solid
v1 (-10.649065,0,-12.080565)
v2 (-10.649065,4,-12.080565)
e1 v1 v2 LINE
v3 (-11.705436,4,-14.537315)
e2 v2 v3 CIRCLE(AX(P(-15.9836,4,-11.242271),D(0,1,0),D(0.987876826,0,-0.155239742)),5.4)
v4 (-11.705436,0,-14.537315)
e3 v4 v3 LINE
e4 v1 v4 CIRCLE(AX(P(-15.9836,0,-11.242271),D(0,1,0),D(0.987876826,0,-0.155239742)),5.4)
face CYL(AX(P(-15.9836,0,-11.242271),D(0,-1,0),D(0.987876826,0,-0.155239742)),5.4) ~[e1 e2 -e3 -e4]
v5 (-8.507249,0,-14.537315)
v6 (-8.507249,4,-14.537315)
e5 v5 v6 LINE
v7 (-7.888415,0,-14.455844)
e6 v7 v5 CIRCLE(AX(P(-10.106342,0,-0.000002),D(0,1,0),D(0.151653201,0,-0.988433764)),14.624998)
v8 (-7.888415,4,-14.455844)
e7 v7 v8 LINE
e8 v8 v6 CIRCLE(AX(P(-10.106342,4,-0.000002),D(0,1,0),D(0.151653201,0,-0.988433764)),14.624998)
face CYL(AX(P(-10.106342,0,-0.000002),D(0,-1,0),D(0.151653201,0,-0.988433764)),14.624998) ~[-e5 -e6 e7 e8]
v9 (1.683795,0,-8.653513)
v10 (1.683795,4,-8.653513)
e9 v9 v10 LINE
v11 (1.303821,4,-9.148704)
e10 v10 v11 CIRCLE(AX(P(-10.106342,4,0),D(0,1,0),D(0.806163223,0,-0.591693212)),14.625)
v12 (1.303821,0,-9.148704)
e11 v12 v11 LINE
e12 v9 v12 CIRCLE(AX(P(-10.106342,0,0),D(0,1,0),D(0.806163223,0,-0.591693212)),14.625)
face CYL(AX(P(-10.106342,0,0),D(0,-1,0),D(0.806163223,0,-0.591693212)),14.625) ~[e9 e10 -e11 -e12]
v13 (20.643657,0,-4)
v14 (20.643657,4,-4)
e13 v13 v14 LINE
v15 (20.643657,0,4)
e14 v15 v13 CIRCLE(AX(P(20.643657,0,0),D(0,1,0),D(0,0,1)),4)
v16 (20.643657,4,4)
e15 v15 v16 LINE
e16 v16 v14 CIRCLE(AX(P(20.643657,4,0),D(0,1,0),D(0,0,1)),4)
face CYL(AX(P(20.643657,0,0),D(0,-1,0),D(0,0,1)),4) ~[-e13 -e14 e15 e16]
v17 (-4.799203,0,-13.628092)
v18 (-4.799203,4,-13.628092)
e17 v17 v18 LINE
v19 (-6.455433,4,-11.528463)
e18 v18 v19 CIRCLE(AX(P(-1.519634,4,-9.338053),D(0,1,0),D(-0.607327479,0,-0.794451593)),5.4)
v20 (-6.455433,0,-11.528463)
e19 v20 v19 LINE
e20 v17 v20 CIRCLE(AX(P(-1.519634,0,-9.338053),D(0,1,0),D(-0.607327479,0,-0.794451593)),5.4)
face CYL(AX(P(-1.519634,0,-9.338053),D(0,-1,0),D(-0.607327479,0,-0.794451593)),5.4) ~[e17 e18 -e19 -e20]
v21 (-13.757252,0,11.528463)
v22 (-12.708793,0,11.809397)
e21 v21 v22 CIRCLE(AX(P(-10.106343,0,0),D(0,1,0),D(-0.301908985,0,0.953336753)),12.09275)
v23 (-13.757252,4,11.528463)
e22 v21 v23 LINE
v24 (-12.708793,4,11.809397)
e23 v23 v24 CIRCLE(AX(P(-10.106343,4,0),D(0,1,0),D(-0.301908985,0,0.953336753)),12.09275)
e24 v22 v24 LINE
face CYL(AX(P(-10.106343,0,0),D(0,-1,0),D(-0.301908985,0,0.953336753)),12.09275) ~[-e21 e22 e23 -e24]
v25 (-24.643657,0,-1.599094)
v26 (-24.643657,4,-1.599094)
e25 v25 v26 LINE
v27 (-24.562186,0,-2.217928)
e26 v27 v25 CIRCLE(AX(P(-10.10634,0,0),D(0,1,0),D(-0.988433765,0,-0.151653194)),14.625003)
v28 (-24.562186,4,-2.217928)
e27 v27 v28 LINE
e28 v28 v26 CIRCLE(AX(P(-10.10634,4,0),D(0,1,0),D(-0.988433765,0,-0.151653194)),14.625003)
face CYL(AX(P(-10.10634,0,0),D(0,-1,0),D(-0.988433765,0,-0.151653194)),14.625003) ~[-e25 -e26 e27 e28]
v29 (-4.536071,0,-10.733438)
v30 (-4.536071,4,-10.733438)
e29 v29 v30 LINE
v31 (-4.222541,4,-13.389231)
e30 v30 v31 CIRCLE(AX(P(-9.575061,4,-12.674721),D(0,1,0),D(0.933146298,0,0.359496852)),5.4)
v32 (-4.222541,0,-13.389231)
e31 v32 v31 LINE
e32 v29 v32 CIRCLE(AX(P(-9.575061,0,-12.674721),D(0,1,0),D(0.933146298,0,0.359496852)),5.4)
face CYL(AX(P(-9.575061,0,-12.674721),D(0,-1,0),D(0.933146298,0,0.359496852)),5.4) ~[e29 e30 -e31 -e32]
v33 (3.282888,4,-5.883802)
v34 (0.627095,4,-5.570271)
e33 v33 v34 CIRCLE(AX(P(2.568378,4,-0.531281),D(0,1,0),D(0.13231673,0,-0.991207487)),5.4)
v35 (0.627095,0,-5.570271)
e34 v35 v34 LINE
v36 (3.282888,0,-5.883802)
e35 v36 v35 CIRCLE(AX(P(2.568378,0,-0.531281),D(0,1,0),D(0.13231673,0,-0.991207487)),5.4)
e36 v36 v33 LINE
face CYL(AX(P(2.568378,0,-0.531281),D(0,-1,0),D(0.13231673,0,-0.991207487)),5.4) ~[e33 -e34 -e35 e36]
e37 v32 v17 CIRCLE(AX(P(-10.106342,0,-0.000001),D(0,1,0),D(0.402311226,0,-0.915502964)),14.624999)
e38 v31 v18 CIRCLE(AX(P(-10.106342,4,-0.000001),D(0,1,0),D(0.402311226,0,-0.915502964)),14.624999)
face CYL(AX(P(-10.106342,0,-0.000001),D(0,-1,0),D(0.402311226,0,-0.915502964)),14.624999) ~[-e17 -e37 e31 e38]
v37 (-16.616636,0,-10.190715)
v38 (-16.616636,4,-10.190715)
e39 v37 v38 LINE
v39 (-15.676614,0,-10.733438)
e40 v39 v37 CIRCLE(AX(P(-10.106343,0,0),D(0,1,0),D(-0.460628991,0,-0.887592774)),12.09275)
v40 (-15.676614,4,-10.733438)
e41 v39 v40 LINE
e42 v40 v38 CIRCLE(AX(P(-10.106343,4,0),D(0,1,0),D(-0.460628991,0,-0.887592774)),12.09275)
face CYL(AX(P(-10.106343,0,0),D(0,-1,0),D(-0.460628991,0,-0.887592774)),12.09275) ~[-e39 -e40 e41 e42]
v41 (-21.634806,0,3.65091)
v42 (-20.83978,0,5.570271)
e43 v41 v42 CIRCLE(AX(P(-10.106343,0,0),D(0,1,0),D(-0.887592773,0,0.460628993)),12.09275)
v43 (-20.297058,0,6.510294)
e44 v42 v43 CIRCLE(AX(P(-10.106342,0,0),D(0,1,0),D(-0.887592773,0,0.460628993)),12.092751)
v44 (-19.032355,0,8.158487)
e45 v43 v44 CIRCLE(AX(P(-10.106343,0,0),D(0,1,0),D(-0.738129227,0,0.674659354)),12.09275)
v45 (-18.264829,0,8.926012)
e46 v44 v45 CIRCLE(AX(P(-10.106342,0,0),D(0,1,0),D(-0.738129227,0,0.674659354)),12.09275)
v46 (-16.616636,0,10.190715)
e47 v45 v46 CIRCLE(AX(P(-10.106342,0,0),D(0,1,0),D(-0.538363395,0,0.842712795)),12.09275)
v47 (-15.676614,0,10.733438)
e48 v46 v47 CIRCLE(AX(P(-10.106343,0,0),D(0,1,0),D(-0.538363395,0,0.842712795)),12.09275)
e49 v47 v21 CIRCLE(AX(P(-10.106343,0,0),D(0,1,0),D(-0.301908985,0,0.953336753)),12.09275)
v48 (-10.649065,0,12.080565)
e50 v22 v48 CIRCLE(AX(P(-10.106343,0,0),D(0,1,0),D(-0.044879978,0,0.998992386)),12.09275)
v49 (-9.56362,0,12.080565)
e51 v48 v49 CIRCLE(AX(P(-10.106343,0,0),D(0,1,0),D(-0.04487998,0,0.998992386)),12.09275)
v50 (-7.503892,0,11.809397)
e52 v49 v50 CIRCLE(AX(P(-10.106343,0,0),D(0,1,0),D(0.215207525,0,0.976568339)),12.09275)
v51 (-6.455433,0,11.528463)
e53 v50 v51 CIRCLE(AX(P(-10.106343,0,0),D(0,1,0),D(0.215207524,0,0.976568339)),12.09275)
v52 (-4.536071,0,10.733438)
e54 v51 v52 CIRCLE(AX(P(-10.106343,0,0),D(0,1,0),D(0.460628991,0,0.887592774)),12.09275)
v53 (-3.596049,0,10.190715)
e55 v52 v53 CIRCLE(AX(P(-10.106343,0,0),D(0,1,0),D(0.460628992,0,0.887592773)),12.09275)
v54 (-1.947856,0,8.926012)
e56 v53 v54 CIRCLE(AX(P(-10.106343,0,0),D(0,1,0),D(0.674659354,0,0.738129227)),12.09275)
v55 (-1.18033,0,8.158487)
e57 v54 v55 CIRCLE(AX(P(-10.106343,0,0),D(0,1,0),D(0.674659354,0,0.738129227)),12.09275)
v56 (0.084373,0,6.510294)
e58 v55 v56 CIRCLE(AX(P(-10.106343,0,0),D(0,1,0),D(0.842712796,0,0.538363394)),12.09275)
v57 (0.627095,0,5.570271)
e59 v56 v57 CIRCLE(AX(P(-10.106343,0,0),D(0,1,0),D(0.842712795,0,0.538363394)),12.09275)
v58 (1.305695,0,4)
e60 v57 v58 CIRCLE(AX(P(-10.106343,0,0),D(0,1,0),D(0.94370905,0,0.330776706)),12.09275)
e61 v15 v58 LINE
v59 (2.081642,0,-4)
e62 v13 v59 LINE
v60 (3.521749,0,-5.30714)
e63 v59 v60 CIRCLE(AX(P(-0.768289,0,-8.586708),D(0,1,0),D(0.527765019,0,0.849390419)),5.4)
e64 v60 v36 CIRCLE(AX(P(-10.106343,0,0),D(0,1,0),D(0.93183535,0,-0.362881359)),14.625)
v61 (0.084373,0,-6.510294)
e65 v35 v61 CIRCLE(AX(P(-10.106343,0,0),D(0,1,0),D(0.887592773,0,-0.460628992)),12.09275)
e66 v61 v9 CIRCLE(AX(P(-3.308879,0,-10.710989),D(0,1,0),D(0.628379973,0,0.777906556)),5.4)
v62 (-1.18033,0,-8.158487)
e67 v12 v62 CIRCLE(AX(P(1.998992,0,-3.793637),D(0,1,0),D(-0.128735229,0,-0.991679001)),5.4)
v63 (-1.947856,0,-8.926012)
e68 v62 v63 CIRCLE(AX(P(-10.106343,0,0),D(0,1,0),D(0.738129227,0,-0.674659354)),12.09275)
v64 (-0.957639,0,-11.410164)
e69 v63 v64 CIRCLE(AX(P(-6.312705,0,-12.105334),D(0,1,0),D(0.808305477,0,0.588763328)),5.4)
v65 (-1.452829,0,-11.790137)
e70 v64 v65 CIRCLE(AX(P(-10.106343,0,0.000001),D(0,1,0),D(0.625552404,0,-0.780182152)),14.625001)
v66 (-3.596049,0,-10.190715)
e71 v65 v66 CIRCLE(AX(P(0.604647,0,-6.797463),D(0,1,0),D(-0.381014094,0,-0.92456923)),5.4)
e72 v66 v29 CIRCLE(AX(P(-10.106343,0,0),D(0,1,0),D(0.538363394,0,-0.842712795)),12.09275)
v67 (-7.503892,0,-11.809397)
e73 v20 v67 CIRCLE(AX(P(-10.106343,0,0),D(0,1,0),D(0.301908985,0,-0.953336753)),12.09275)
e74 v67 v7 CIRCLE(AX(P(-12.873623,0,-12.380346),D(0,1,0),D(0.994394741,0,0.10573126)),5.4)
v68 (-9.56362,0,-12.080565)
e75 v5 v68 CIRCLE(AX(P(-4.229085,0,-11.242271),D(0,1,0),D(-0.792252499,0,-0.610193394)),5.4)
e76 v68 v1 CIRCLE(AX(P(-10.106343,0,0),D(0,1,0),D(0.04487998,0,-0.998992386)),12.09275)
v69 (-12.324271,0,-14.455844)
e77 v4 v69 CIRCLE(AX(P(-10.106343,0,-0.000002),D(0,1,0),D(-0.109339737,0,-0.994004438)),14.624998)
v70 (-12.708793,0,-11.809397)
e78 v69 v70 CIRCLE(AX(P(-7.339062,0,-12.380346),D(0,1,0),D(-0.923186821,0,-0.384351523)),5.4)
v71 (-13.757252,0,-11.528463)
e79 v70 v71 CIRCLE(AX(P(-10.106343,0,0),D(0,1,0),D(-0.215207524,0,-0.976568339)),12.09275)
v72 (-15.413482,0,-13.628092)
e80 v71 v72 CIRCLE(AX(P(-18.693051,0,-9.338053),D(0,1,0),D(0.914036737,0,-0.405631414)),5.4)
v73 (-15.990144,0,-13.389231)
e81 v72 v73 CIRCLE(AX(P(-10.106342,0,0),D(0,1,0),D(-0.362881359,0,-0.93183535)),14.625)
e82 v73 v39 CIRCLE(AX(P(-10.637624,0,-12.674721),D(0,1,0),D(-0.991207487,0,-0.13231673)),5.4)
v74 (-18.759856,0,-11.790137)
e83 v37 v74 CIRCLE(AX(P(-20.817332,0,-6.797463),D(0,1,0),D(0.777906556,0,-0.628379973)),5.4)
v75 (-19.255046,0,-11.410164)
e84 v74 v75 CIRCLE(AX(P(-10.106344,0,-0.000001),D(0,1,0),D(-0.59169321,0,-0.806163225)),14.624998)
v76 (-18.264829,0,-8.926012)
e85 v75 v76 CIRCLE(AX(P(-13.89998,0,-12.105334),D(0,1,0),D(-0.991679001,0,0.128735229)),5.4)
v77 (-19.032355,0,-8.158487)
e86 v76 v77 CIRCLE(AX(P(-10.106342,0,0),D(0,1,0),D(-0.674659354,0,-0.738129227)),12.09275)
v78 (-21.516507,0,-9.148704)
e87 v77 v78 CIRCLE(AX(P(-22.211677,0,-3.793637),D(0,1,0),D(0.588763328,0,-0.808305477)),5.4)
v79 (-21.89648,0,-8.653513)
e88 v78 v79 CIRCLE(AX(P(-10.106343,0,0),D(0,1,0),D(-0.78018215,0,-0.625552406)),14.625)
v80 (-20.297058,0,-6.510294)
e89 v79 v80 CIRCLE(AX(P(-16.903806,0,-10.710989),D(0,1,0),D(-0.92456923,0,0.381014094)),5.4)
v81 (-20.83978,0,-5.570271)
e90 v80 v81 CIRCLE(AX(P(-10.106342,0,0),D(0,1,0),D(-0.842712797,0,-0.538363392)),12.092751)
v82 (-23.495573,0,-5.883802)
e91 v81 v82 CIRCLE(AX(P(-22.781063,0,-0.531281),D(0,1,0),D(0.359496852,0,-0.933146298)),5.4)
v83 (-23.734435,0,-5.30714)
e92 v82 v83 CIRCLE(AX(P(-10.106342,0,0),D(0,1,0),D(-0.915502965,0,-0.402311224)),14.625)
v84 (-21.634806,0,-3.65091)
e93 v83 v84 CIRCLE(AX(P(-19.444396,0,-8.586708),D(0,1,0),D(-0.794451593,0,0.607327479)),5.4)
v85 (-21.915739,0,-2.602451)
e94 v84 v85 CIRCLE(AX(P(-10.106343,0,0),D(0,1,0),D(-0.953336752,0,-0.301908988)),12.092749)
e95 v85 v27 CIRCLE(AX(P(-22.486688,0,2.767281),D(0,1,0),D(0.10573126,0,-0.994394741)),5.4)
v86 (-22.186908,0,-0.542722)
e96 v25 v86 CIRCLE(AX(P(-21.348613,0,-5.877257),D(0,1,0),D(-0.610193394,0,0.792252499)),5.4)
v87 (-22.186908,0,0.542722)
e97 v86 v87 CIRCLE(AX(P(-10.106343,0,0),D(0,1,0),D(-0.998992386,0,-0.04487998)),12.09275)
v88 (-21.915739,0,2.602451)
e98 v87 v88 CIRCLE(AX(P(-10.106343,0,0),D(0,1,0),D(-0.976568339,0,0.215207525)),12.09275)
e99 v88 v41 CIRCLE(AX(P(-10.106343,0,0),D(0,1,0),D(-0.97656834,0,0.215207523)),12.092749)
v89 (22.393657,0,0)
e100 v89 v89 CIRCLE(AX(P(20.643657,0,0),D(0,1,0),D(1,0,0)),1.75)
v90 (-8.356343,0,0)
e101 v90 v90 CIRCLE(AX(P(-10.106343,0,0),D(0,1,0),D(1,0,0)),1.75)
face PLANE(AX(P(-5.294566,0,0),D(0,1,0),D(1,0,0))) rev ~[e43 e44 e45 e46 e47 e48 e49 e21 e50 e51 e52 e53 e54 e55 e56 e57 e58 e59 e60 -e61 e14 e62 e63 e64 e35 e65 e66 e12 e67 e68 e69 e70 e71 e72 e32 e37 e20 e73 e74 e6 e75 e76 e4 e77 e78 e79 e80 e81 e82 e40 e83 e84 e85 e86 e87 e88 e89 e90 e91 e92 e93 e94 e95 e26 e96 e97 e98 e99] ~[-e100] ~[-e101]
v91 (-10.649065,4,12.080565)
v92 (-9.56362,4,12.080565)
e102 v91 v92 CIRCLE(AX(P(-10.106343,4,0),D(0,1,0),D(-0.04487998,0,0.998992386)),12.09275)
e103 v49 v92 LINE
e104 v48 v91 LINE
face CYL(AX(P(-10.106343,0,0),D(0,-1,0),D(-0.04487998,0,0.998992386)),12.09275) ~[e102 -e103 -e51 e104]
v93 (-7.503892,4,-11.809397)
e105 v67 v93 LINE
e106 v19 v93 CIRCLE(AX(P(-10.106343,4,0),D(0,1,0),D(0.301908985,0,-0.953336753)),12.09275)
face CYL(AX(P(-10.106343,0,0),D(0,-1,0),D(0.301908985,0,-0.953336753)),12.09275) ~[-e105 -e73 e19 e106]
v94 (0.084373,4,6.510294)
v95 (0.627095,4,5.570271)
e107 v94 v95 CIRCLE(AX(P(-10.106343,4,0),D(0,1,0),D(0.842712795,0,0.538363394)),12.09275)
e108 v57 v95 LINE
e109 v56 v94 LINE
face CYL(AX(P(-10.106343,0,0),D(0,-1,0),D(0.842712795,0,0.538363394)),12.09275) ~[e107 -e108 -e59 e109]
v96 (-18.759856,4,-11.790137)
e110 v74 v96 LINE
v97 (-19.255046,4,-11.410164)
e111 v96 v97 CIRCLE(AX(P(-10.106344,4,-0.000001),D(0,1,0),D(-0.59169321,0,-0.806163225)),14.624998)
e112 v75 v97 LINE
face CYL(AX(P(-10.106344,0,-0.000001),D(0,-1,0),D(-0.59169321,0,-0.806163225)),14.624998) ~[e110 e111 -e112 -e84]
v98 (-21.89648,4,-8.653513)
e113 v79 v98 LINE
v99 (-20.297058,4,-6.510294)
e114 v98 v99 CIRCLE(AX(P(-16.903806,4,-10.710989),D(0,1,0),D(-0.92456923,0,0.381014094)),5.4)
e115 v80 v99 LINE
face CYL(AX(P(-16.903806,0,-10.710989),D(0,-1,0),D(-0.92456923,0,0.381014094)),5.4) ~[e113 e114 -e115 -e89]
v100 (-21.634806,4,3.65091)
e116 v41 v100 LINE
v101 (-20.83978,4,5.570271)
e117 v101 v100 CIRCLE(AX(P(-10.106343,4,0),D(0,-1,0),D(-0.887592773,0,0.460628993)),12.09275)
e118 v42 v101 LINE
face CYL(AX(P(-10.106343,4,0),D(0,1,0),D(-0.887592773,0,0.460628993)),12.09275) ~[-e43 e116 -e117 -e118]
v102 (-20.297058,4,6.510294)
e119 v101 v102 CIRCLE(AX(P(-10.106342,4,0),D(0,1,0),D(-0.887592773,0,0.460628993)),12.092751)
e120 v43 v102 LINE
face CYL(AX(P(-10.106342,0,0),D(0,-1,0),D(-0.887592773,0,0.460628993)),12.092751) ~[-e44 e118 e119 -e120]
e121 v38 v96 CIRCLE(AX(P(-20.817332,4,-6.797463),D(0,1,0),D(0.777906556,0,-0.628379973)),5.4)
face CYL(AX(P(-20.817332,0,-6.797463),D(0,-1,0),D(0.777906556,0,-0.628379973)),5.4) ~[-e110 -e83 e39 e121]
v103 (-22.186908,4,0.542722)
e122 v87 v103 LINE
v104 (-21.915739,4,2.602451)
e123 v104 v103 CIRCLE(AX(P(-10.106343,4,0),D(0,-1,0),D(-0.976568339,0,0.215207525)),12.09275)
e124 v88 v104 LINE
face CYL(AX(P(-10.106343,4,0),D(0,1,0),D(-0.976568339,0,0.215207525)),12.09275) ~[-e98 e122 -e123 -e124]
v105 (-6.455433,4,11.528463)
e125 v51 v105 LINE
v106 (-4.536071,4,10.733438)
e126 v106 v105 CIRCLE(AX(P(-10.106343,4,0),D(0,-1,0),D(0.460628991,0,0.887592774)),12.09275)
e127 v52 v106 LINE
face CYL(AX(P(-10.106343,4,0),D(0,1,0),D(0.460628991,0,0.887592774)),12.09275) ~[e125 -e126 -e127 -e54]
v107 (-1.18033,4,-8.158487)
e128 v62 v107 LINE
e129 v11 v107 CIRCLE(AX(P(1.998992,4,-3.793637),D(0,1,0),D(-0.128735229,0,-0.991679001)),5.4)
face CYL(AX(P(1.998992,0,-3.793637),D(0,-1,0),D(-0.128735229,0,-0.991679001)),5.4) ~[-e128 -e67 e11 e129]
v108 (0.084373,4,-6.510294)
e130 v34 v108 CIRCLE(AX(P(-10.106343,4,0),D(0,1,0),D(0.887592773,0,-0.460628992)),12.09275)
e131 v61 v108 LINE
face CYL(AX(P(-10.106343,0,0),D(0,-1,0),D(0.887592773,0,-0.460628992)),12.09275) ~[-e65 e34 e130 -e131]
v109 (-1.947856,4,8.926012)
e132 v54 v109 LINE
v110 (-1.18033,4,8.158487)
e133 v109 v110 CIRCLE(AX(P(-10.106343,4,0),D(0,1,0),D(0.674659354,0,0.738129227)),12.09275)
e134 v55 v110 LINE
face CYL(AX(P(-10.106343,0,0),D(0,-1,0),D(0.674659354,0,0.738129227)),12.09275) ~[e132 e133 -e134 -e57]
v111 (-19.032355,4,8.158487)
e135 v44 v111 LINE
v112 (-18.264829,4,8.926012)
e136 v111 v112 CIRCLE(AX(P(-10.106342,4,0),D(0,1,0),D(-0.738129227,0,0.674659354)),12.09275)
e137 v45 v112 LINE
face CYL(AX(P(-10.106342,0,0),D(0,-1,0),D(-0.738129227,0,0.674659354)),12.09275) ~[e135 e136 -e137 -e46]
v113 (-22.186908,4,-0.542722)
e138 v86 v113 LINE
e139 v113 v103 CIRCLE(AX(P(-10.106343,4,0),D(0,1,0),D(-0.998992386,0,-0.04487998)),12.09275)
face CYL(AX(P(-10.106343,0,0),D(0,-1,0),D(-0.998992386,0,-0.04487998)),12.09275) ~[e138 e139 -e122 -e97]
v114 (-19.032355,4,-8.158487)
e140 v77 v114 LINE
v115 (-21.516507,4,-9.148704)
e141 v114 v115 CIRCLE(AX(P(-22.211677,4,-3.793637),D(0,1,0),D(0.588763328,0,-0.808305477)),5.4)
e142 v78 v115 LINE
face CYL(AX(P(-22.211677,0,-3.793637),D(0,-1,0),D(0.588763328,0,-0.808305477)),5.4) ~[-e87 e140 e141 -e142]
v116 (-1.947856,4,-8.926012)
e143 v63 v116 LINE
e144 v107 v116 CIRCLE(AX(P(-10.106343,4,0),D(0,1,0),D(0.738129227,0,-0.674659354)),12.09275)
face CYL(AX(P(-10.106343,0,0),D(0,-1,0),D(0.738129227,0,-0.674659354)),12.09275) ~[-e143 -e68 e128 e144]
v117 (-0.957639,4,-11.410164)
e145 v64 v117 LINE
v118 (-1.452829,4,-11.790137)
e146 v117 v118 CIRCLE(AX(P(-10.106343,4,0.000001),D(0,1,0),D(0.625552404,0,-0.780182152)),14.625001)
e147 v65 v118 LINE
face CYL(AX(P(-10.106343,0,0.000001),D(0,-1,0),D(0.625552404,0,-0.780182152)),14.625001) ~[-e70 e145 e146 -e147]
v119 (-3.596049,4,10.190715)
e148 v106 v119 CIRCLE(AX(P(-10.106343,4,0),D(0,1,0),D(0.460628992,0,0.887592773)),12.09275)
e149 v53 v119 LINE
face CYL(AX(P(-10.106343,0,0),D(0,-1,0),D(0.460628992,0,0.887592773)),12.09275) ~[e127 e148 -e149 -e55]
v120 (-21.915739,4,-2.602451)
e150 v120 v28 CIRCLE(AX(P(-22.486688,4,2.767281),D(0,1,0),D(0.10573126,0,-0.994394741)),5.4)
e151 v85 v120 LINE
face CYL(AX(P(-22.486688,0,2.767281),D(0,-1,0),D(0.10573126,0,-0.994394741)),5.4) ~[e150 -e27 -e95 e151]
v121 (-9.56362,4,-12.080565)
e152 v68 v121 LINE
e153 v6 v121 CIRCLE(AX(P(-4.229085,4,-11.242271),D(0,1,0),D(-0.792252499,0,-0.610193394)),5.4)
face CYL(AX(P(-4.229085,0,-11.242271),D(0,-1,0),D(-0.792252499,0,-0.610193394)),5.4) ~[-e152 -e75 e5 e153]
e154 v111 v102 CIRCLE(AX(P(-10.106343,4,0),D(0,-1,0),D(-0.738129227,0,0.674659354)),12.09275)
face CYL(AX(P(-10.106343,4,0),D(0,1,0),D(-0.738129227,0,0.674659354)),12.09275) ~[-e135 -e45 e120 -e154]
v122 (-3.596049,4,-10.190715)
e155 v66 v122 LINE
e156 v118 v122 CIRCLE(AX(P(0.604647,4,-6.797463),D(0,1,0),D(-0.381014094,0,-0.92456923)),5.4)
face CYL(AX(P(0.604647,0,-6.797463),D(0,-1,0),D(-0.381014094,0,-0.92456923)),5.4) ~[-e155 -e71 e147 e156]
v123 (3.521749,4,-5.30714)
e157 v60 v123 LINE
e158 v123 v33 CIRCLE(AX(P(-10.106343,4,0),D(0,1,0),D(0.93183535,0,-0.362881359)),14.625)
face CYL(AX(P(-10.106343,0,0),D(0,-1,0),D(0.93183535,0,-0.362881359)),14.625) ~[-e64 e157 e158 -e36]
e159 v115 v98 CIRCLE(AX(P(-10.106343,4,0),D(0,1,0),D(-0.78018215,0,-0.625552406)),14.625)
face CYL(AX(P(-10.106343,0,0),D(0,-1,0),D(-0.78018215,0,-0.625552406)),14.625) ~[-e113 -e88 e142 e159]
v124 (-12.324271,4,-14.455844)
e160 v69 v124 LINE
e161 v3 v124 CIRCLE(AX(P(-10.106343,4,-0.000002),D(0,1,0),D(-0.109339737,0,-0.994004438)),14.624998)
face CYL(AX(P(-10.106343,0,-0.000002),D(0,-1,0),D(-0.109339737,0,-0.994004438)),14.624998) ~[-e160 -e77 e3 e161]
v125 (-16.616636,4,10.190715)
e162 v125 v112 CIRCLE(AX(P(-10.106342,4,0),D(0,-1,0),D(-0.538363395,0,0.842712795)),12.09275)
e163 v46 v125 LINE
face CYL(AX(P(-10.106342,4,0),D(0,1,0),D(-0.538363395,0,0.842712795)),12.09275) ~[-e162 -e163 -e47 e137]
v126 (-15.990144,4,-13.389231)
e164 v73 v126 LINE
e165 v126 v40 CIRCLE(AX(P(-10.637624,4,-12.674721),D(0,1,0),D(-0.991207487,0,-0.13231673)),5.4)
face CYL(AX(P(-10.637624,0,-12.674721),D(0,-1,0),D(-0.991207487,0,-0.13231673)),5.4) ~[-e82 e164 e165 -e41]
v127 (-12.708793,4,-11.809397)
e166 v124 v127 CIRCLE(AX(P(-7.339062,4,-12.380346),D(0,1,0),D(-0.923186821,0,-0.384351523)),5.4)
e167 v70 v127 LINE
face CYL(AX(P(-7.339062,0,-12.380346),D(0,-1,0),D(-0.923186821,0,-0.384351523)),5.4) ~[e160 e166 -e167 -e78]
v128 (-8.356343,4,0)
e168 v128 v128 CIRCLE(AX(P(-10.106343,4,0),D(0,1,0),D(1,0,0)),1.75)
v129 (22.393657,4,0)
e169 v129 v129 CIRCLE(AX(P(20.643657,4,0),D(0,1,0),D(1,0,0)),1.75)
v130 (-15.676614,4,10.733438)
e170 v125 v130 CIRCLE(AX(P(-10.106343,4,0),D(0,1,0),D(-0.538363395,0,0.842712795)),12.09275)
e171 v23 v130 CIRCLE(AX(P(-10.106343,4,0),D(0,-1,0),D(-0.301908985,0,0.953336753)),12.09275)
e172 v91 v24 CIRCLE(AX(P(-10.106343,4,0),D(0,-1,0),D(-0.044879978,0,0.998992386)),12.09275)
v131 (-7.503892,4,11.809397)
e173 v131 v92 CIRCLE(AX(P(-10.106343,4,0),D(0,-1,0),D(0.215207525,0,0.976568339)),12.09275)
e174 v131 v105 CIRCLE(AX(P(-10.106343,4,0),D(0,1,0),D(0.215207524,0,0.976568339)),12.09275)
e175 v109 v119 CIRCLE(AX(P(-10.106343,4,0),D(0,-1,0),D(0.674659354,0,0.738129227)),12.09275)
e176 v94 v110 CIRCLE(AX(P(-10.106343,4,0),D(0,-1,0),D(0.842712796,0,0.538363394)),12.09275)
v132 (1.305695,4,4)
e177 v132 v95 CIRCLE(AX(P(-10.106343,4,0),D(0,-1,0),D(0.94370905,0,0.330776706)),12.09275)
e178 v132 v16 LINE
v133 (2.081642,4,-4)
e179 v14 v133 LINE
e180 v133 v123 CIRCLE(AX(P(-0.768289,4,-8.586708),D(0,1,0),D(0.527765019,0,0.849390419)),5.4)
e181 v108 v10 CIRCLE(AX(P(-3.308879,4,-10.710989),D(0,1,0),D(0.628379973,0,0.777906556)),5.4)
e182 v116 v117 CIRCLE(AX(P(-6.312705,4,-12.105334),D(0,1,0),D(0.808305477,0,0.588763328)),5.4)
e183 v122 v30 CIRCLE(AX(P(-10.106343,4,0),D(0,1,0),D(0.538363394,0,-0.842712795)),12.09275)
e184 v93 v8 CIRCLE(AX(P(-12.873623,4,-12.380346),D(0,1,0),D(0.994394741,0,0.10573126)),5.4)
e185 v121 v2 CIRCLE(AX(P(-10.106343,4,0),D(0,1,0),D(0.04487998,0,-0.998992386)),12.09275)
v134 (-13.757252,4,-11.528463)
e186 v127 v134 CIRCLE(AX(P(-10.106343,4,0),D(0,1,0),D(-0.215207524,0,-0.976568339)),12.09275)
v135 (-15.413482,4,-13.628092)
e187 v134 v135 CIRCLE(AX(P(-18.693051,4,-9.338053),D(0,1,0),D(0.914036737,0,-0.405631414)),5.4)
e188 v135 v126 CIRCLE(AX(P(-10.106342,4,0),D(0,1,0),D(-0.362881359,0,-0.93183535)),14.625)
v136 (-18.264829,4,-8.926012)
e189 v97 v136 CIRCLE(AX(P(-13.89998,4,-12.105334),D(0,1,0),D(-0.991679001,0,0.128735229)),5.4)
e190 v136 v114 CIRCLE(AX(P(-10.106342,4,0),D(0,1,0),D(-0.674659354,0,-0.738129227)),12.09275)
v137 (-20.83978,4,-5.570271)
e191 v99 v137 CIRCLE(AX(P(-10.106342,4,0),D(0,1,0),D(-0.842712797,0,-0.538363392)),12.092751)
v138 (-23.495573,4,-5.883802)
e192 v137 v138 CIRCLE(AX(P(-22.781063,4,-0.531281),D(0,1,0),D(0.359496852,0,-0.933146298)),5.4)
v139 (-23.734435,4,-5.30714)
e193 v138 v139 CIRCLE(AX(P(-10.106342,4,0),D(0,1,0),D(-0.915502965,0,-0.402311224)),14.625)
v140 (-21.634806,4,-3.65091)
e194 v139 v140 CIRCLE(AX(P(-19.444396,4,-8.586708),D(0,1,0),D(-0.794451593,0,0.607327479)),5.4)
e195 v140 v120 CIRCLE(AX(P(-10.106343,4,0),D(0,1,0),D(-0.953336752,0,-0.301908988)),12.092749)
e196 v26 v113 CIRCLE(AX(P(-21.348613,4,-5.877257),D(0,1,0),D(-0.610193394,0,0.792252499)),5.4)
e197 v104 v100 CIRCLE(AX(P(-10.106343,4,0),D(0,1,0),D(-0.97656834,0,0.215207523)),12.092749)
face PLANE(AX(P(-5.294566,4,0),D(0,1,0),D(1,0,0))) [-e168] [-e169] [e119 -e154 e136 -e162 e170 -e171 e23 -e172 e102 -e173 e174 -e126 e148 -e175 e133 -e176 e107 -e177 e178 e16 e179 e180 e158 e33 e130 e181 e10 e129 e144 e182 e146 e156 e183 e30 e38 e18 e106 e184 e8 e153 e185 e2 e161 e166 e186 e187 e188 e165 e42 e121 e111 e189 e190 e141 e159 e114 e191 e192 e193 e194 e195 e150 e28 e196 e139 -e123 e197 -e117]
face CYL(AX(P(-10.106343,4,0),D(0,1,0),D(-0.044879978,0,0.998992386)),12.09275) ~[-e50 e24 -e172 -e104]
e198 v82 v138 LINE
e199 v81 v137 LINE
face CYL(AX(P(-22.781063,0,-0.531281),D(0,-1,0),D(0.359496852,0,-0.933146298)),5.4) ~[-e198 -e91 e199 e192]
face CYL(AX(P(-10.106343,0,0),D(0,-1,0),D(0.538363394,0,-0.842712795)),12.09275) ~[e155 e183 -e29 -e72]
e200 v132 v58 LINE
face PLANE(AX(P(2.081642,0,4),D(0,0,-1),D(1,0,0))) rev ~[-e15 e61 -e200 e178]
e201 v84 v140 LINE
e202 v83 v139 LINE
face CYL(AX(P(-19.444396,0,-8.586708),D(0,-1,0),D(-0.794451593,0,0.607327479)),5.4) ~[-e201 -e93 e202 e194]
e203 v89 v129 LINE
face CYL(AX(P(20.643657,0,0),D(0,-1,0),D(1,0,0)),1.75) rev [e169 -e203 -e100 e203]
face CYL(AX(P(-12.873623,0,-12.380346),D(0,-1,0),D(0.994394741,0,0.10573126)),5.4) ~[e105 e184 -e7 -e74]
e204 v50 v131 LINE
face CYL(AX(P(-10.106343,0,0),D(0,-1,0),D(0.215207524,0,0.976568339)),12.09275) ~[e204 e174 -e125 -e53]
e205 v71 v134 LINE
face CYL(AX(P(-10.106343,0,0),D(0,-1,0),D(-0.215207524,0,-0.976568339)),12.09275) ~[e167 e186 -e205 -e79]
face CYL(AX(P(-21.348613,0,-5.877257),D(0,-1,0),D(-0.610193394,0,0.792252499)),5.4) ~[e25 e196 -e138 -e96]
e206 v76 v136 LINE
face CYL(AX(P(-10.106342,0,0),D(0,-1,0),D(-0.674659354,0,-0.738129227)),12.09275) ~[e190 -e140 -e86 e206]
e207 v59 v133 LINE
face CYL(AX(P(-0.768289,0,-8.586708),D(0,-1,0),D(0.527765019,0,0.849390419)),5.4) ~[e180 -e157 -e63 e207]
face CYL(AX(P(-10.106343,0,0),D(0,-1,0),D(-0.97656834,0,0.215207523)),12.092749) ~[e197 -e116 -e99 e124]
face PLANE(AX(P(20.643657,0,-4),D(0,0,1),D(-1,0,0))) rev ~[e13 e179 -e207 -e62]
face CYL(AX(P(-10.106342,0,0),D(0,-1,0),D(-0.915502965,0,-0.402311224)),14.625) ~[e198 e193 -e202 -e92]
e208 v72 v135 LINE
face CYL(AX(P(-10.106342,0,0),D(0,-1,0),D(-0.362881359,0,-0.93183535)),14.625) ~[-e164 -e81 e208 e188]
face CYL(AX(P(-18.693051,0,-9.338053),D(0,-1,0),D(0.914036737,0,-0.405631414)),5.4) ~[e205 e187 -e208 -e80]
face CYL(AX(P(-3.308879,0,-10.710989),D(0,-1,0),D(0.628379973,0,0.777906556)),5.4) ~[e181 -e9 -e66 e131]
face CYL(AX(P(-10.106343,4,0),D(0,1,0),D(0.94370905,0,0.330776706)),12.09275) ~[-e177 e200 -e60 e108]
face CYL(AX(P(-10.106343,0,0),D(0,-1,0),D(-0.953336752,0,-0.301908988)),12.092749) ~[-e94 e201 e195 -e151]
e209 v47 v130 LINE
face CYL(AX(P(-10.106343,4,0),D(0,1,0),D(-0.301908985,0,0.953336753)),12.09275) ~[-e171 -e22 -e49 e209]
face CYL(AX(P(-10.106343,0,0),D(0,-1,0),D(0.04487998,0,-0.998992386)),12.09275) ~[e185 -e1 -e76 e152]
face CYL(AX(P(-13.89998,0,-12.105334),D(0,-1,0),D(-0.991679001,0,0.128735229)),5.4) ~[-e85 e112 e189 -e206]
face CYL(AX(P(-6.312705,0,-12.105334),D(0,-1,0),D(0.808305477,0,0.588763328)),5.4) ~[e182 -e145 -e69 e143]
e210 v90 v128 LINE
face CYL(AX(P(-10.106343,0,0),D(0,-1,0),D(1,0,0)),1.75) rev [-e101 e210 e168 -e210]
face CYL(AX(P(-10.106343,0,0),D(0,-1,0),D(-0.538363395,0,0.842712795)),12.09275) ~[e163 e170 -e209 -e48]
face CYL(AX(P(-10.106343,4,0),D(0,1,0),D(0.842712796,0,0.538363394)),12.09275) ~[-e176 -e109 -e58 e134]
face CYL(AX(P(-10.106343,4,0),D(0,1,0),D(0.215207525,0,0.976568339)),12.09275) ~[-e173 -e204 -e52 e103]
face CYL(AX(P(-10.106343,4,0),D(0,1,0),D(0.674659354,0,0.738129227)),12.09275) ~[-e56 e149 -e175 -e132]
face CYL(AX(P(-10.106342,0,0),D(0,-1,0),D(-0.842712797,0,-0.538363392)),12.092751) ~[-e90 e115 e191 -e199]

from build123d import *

# Parameters (mm, degrees)
SKETCH1_R           = 1.75
BOSS_EXTRUDE1_DEPTH = 4
CUT_EXTRUDE1_DEPTH  = 10


with BuildPart() as part:
    # Sketch1 → Boss-Extrude1 (new body)
    with BuildSketch(Plane(origin=(0, 0, 0), x_dir=(1, 0, 0), z_dir=(0, 1, 0))):
        with BuildLine():
            Line((20.643657446, 4), (2.081641936, 4))
            ThreePointArc((2.081641936, 4), (2.861028333, 4.588201733), (3.521749436, 5.30713988))
            ThreePointArc((3.521749436, 5.30713988), (3.405395609, 5.596745198), (3.282888305, 5.883801663))
            ThreePointArc((3.282888305, 5.883801663), (1.93527598, 5.894040025), (0.627094961, 5.57027124))
            ThreePointArc((0.627094961, 5.57027124), (0.366286148, 6.046375), (0.084372603, 6.510293938))
            ThreePointArc((0.084372603, 6.510293938), (1.018855105, 7.48132754), (1.683794586, 8.65351323))
            ThreePointArc((1.683794586, 8.65351323), (1.496450048, 8.903135899), (1.303821399, 9.148703928))
            ThreePointArc((1.303821399, 9.148703928), (-0.000522033, 8.809805691), (-1.180330337, 8.158486898))
            ThreePointArc((-1.180330337, 8.158486898), (-1.555477026, 8.550865528), (-1.947855656, 8.926012217))
            ThreePointArc((-1.947855656, 8.926012217), (-1.296536862, 10.105820521), (-0.957638625, 11.410163953))
            ThreePointArc((-0.957638625, 11.410163953), (-1.203206655, 11.602792602), (-1.452829324, 11.79013714))
            ThreePointArc((-1.452829324, 11.79013714), (-2.625015014, 11.125197659), (-3.596048616, 10.190715157))
            ThreePointArc((-3.596048616, 10.190715157), (-4.059967554, 10.472628702), (-4.536071314, 10.733437515))
            ThreePointArc((-4.536071314, 10.733437515), (-4.212302529, 12.041618533), (-4.222540891, 13.389230859))
            ThreePointArc((-4.222540891, 13.389230859), (-4.509597355, 13.511738163), (-4.799202674, 13.62809199))
            ThreePointArc((-4.799202674, 13.62809199), (-5.759348103, 12.682425791), (-6.455432668, 11.528463019))
            ThreePointArc((-6.455432668, 11.528463019), (-6.976508546, 11.680699536), (-7.503891752, 11.809396783))
            ThreePointArc((-7.503891752, 11.809396783), (-7.529737283, 13.156800143), (-7.888414517, 14.455843809))
            ThreePointArc((-7.888414517, 14.455843809), (-8.197396993, 14.499881098), (-8.507248835, 14.537314892))
            ThreePointArc((-8.507248835, 14.537314892), (-9.18992168, 13.375367565), (-9.563620196, 12.080565177))
            ThreePointArc((-9.563620196, 12.080565177), (-10.106342554, 12.09275), (-10.649064912, 12.080565177))
            ThreePointArc((-10.649064912, 12.080565177), (-11.022763428, 13.375367565), (-11.705436272, 14.537314892))
            ThreePointArc((-11.705436272, 14.537314892), (-12.015288115, 14.499881098), (-12.324270591, 14.455843809))
            ThreePointArc((-12.324270591, 14.455843809), (-12.682947825, 13.156800143), (-12.708793355, 11.809396783))
            ThreePointArc((-12.708793355, 11.809396783), (-13.236176561, 11.680699536), (-13.757252439, 11.528463019))
            ThreePointArc((-13.757252439, 11.528463019), (-14.453337005, 12.682425791), (-15.413482434, 13.62809199))
            ThreePointArc((-15.413482434, 13.62809199), (-15.703087752, 13.511738163), (-15.990144217, 13.389230859))
            ThreePointArc((-15.990144217, 13.389230859), (-16.000382579, 12.041618533), (-15.676613793, 10.733437515))
            ThreePointArc((-15.676613793, 10.733437515), (-16.152717554, 10.472628702), (-16.616636492, 10.190715157))
            ThreePointArc((-16.616636492, 10.190715157), (-17.587670094, 11.125197659), (-18.759855783, 11.79013714))
            ThreePointArc((-18.759855783, 11.79013714), (-19.009478453, 11.602792602), (-19.255046482, 11.410163953))
            ThreePointArc((-19.255046482, 11.410163953), (-18.916148245, 10.105820521), (-18.264829452, 8.926012217))
            ThreePointArc((-18.264829452, 8.926012217), (-18.657208082, 8.550865528), (-19.032354771, 8.158486898))
            ThreePointArc((-19.032354771, 8.158486898), (-20.212163074, 8.809805691), (-21.516506507, 9.148703928))
            ThreePointArc((-21.516506507, 9.148703928), (-21.709135156, 8.903135899), (-21.896479694, 8.65351323))
            ThreePointArc((-21.896479694, 8.65351323), (-21.231540213, 7.48132754), (-20.297057711, 6.510293938))
            ThreePointArc((-20.297057711, 6.510293938), (-20.578971255, 6.046375), (-20.839780068, 5.57027124))
            ThreePointArc((-20.839780068, 5.57027124), (-22.147961087, 5.894040025), (-23.495573413, 5.883801663))
            ThreePointArc((-23.495573413, 5.883801663), (-23.618080717, 5.596745198), (-23.734434544, 5.30713988))
            ThreePointArc((-23.734434544, 5.30713988), (-22.788768345, 4.346994451), (-21.634805572, 3.650909885))
            ThreePointArc((-21.634805572, 3.650909885), (-21.78704209, 3.129834008), (-21.915739337, 2.602450802))
            ThreePointArc((-21.915739337, 2.602450802), (-23.263142697, 2.576605271), (-24.562186363, 2.217928037))
            ThreePointArc((-24.562186363, 2.217928037), (-24.606223651, 1.908945561), (-24.643657446, 1.599093719))
            ThreePointArc((-24.643657446, 1.599093719), (-23.481710119, 0.916420874), (-22.186907731, 0.542722358))
            ThreePointArc((-22.186907731, 0.542722358), (-22.199092554, 0), (-22.186907731, -0.542722358))
            ThreePointArc((-22.186907731, -0.542722358), (-23.481710119, -0.916420874), (-24.643657446, -1.599093719))
            ThreePointArc((-24.643657446, -1.599093719), (-24.606223651, -1.908945561), (-24.562186363, -2.217928037))
            ThreePointArc((-24.562186363, -2.217928037), (-23.263142697, -2.576605271), (-21.915739337, -2.602450802))
            ThreePointArc((-21.915739337, -2.602450802), (-21.78704209, -3.129834008), (-21.634805572, -3.650909885))
            ThreePointArc((-21.634805572, -3.650909885), (-22.788768345, -4.346994451), (-23.734434544, -5.30713988))
            ThreePointArc((-23.734434544, -5.30713988), (-23.618080717, -5.596745198), (-23.495573413, -5.883801663))
            ThreePointArc((-23.495573413, -5.883801663), (-22.147961087, -5.894040025), (-20.839780068, -5.57027124))
            ThreePointArc((-20.839780068, -5.57027124), (-20.578971255, -6.046375), (-20.297057711, -6.510293938))
            ThreePointArc((-20.297057711, -6.510293938), (-21.231540213, -7.48132754), (-21.896479694, -8.65351323))
            ThreePointArc((-21.896479694, -8.65351323), (-21.709135156, -8.903135899), (-21.516506507, -9.148703928))
            ThreePointArc((-21.516506507, -9.148703928), (-20.212163074, -8.809805691), (-19.032354771, -8.158486898))
            ThreePointArc((-19.032354771, -8.158486898), (-18.657208082, -8.550865528), (-18.264829452, -8.926012217))
            ThreePointArc((-18.264829452, -8.926012217), (-18.916148245, -10.105820521), (-19.255046482, -11.410163953))
            ThreePointArc((-19.255046482, -11.410163953), (-19.009478453, -11.602792602), (-18.759855783, -11.79013714))
            ThreePointArc((-18.759855783, -11.79013714), (-17.587670094, -11.125197659), (-16.616636492, -10.190715157))
            ThreePointArc((-16.616636492, -10.190715157), (-16.152717554, -10.472628702), (-15.676613793, -10.733437515))
            ThreePointArc((-15.676613793, -10.733437515), (-16.000382579, -12.041618533), (-15.990144217, -13.389230859))
            ThreePointArc((-15.990144217, -13.389230859), (-15.703087752, -13.511738163), (-15.413482434, -13.62809199))
            ThreePointArc((-15.413482434, -13.62809199), (-14.453337005, -12.682425791), (-13.757252439, -11.528463019))
            ThreePointArc((-13.757252439, -11.528463019), (-13.236176561, -11.680699536), (-12.708793355, -11.809396783))
            ThreePointArc((-12.708793355, -11.809396783), (-12.682947825, -13.156800143), (-12.324270591, -14.455843809))
            ThreePointArc((-12.324270591, -14.455843809), (-12.015288115, -14.499881098), (-11.705436272, -14.537314892))
            ThreePointArc((-11.705436272, -14.537314892), (-11.022763428, -13.375367565), (-10.649064912, -12.080565177))
            ThreePointArc((-10.649064912, -12.080565177), (-10.106342554, -12.09275), (-9.563620196, -12.080565177))
            ThreePointArc((-9.563620196, -12.080565177), (-9.18992168, -13.375367565), (-8.507248835, -14.537314892))
            ThreePointArc((-8.507248835, -14.537314892), (-8.197396993, -14.499881098), (-7.888414517, -14.455843809))
            ThreePointArc((-7.888414517, -14.455843809), (-7.529737283, -13.156800143), (-7.503891752, -11.809396783))
            ThreePointArc((-7.503891752, -11.809396783), (-6.976508546, -11.680699536), (-6.455432668, -11.528463019))
            ThreePointArc((-6.455432668, -11.528463019), (-5.759348103, -12.682425791), (-4.799202674, -13.62809199))
            ThreePointArc((-4.799202674, -13.62809199), (-4.509597355, -13.511738163), (-4.222540891, -13.389230859))
            ThreePointArc((-4.222540891, -13.389230859), (-4.212302529, -12.041618533), (-4.536071314, -10.733437515))
            ThreePointArc((-4.536071314, -10.733437515), (-4.059967554, -10.472628702), (-3.596048616, -10.190715157))
            ThreePointArc((-3.596048616, -10.190715157), (-2.625015014, -11.125197659), (-1.452829324, -11.79013714))
            ThreePointArc((-1.452829324, -11.79013714), (-1.203206655, -11.602792602), (-0.957638625, -11.410163953))
            ThreePointArc((-0.957638625, -11.410163953), (-1.296536862, -10.105820521), (-1.947855656, -8.926012217))
            ThreePointArc((-1.947855656, -8.926012217), (-1.555477026, -8.550865528), (-1.180330337, -8.158486898))
            ThreePointArc((-1.180330337, -8.158486898), (-0.000522033, -8.809805691), (1.303821399, -9.148703928))
            ThreePointArc((1.303821399, -9.148703928), (1.496450048, -8.903135899), (1.683794586, -8.65351323))
            ThreePointArc((1.683794586, -8.65351323), (1.018855105, -7.48132754), (0.084372603, -6.510293938))
            ThreePointArc((0.084372603, -6.510293938), (0.366286148, -6.046375), (0.627094961, -5.57027124))
            ThreePointArc((0.627094961, -5.57027124), (1.93527598, -5.894040025), (3.282888305, -5.883801663))
            ThreePointArc((3.282888305, -5.883801663), (3.405395609, -5.596745198), (3.521749436, -5.30713988))
            ThreePointArc((3.521749436, -5.30713988), (2.861028333, -4.588201733), (2.081641936, -4))
            Line((2.081641936, -4), (20.643657446, -4))
            ThreePointArc((20.643657446, -4), (24.643657446, 0), (20.643657446, 4))
        make_face()
        with Locations((-10.106342554, 0)):
            Circle(SKETCH1_R, mode=Mode.SUBTRACT)
        with Locations((20.643657446, 0)):
            Circle(SKETCH1_R, mode=Mode.SUBTRACT)
    extrude(amount=BOSS_EXTRUDE1_DEPTH)

    # Sketch2 → Cut-Extrude1 (cut)
    with BuildSketch(Plane(origin=(0, 4, 0), x_dir=(1, 0, 0), z_dir=(0, 1, 0))):
        with BuildLine():
            ThreePointArc((-24.562186363, -2.217928037), (-23.263142697, -2.576605271), (-21.915739337, -2.602450802))
            ThreePointArc((-21.915739337, -2.602450802), (-22.095637401, -1.578420611), (-22.186907731, -0.542722358))
            ThreePointArc((-22.186907731, -0.542722358), (-23.481710119, -0.916420874), (-24.643657446, -1.599093719))
            ThreePointArc((-24.643657446, -1.599093719), (-24.606223651, -1.908945561), (-24.562186363, -2.217928037))
        make_face()
        with BuildLine():
            ThreePointArc((-23.495573413, -5.883801663), (-22.147961087, -5.894040025), (-20.839780068, -5.57027124))
            ThreePointArc((-20.839780068, -5.57027124), (-21.278586771, -4.627695077), (-21.634805572, -3.650909885))
            ThreePointArc((-21.634805572, -3.650909885), (-22.788768345, -4.346994451), (-23.734434544, -5.30713988))
            ThreePointArc((-23.734434544, -5.30713988), (-23.618080717, -5.596745198), (-23.495573413, -5.883801663))
        make_face()
        with BuildLine():
            ThreePointArc((-21.516506507, -9.148703928), (-20.212163074, -8.809805691), (-19.032354771, -8.158486898))
            ThreePointArc((-19.032354771, -8.158486898), (-19.70016616, -7.361599771), (-20.297057711, -6.510293938))
            ThreePointArc((-20.297057711, -6.510293938), (-21.231540213, -7.48132754), (-21.896479694, -8.65351323))
            ThreePointArc((-21.896479694, -8.65351323), (-21.709135156, -8.903135899), (-21.516506507, -9.148703928))
        make_face()
        with BuildLine():
            ThreePointArc((-18.759855783, -11.79013714), (-17.587670094, -11.125197659), (-16.616636492, -10.190715157))
            ThreePointArc((-16.616636492, -10.190715157), (-17.467942324, -9.593823606), (-18.264829452, -8.926012217))
            ThreePointArc((-18.264829452, -8.926012217), (-18.916148245, -10.105820521), (-19.255046482, -11.410163953))
            ThreePointArc((-19.255046482, -11.410163953), (-19.009478453, -11.602792602), (-18.759855783, -11.79013714))
        make_face()
        with BuildLine():
            ThreePointArc((-15.413482434, -13.62809199), (-14.453337005, -12.682425791), (-13.757252439, -11.528463019))
            ThreePointArc((-13.757252439, -11.528463019), (-14.734037631, -11.172244217), (-15.676613793, -10.733437515))
            ThreePointArc((-15.676613793, -10.733437515), (-16.000382579, -12.041618533), (-15.990144217, -13.389230859))
            ThreePointArc((-15.990144217, -13.389230859), (-15.703087752, -13.511738163), (-15.413482434, -13.62809199))
        make_face()
        with BuildLine():
            ThreePointArc((-11.705436272, -14.537314892), (-11.022763428, -13.375367565), (-10.649064912, -12.080565177))
            ThreePointArc((-10.649064912, -12.080565177), (-11.684763165, -11.989294847), (-12.708793355, -11.809396783))
            ThreePointArc((-12.708793355, -11.809396783), (-12.682947825, -13.156800143), (-12.324270591, -14.455843809))
            ThreePointArc((-12.324270591, -14.455843809), (-12.015288115, -14.499881098), (-11.705436272, -14.537314892))
        make_face()
        with BuildLine():
            ThreePointArc((-7.888414517, -14.455843809), (-7.529737283, -13.156800143), (-7.503891752, -11.809396783))
            ThreePointArc((-7.503891752, -11.809396783), (-8.527921943, -11.989294847), (-9.563620196, -12.080565177))
            ThreePointArc((-9.563620196, -12.080565177), (-9.18992168, -13.375367565), (-8.507248835, -14.537314892))
            ThreePointArc((-8.507248835, -14.537314892), (-8.197396993, -14.499881098), (-7.888414517, -14.455843809))
        make_face()
        with BuildLine():
            ThreePointArc((-4.222540891, -13.389230859), (-4.212302529, -12.041618533), (-4.536071314, -10.733437515))
            ThreePointArc((-4.536071314, -10.733437515), (-5.478647477, -11.172244217), (-6.455432668, -11.528463019))
            ThreePointArc((-6.455432668, -11.528463019), (-5.759348103, -12.682425791), (-4.799202674, -13.62809199))
            ThreePointArc((-4.799202674, -13.62809199), (-4.509597355, -13.511738163), (-4.222540891, -13.389230859))
        make_face()
        with BuildLine():
            ThreePointArc((-0.957638625, -11.410163953), (-1.296536862, -10.105820521), (-1.947855656, -8.926012217))
            ThreePointArc((-1.947855656, -8.926012217), (-2.744742783, -9.593823606), (-3.596048616, -10.190715157))
            ThreePointArc((-3.596048616, -10.190715157), (-2.625015014, -11.125197659), (-1.452829324, -11.79013714))
            ThreePointArc((-1.452829324, -11.79013714), (-1.203206655, -11.602792602), (-0.957638625, -11.410163953))
        make_face()
        with BuildLine():
            ThreePointArc((1.683794586, -8.65351323), (1.018855105, -7.48132754), (0.084372603, -6.510293938))
            ThreePointArc((0.084372603, -6.510293938), (-0.512518948, -7.361599771), (-1.180330337, -8.158486898))
            ThreePointArc((-1.180330337, -8.158486898), (-0.000522033, -8.809805691), (1.303821399, -9.148703928))
            ThreePointArc((1.303821399, -9.148703928), (1.496450048, -8.903135899), (1.683794586, -8.65351323))
        make_face()
        with BuildLine():
            ThreePointArc((3.521749436, -5.30713988), (2.861028333, -4.588201733), (2.081641936, -4))
            Line((2.081641936, -4), (1.305695063, -4))
            ThreePointArc((1.305695063, -4), (0.994195953, -4.797149927), (0.627094961, -5.57027124))
            ThreePointArc((0.627094961, -5.57027124), (1.93527598, -5.894040025), (3.282888305, -5.883801663))
            ThreePointArc((3.282888305, -5.883801663), (3.405395609, -5.596745198), (3.521749436, -5.30713988))
        make_face()
    extrude(amount=-CUT_EXTRUDE1_DEPTH, mode=Mode.SUBTRACT)


solid = part.part
